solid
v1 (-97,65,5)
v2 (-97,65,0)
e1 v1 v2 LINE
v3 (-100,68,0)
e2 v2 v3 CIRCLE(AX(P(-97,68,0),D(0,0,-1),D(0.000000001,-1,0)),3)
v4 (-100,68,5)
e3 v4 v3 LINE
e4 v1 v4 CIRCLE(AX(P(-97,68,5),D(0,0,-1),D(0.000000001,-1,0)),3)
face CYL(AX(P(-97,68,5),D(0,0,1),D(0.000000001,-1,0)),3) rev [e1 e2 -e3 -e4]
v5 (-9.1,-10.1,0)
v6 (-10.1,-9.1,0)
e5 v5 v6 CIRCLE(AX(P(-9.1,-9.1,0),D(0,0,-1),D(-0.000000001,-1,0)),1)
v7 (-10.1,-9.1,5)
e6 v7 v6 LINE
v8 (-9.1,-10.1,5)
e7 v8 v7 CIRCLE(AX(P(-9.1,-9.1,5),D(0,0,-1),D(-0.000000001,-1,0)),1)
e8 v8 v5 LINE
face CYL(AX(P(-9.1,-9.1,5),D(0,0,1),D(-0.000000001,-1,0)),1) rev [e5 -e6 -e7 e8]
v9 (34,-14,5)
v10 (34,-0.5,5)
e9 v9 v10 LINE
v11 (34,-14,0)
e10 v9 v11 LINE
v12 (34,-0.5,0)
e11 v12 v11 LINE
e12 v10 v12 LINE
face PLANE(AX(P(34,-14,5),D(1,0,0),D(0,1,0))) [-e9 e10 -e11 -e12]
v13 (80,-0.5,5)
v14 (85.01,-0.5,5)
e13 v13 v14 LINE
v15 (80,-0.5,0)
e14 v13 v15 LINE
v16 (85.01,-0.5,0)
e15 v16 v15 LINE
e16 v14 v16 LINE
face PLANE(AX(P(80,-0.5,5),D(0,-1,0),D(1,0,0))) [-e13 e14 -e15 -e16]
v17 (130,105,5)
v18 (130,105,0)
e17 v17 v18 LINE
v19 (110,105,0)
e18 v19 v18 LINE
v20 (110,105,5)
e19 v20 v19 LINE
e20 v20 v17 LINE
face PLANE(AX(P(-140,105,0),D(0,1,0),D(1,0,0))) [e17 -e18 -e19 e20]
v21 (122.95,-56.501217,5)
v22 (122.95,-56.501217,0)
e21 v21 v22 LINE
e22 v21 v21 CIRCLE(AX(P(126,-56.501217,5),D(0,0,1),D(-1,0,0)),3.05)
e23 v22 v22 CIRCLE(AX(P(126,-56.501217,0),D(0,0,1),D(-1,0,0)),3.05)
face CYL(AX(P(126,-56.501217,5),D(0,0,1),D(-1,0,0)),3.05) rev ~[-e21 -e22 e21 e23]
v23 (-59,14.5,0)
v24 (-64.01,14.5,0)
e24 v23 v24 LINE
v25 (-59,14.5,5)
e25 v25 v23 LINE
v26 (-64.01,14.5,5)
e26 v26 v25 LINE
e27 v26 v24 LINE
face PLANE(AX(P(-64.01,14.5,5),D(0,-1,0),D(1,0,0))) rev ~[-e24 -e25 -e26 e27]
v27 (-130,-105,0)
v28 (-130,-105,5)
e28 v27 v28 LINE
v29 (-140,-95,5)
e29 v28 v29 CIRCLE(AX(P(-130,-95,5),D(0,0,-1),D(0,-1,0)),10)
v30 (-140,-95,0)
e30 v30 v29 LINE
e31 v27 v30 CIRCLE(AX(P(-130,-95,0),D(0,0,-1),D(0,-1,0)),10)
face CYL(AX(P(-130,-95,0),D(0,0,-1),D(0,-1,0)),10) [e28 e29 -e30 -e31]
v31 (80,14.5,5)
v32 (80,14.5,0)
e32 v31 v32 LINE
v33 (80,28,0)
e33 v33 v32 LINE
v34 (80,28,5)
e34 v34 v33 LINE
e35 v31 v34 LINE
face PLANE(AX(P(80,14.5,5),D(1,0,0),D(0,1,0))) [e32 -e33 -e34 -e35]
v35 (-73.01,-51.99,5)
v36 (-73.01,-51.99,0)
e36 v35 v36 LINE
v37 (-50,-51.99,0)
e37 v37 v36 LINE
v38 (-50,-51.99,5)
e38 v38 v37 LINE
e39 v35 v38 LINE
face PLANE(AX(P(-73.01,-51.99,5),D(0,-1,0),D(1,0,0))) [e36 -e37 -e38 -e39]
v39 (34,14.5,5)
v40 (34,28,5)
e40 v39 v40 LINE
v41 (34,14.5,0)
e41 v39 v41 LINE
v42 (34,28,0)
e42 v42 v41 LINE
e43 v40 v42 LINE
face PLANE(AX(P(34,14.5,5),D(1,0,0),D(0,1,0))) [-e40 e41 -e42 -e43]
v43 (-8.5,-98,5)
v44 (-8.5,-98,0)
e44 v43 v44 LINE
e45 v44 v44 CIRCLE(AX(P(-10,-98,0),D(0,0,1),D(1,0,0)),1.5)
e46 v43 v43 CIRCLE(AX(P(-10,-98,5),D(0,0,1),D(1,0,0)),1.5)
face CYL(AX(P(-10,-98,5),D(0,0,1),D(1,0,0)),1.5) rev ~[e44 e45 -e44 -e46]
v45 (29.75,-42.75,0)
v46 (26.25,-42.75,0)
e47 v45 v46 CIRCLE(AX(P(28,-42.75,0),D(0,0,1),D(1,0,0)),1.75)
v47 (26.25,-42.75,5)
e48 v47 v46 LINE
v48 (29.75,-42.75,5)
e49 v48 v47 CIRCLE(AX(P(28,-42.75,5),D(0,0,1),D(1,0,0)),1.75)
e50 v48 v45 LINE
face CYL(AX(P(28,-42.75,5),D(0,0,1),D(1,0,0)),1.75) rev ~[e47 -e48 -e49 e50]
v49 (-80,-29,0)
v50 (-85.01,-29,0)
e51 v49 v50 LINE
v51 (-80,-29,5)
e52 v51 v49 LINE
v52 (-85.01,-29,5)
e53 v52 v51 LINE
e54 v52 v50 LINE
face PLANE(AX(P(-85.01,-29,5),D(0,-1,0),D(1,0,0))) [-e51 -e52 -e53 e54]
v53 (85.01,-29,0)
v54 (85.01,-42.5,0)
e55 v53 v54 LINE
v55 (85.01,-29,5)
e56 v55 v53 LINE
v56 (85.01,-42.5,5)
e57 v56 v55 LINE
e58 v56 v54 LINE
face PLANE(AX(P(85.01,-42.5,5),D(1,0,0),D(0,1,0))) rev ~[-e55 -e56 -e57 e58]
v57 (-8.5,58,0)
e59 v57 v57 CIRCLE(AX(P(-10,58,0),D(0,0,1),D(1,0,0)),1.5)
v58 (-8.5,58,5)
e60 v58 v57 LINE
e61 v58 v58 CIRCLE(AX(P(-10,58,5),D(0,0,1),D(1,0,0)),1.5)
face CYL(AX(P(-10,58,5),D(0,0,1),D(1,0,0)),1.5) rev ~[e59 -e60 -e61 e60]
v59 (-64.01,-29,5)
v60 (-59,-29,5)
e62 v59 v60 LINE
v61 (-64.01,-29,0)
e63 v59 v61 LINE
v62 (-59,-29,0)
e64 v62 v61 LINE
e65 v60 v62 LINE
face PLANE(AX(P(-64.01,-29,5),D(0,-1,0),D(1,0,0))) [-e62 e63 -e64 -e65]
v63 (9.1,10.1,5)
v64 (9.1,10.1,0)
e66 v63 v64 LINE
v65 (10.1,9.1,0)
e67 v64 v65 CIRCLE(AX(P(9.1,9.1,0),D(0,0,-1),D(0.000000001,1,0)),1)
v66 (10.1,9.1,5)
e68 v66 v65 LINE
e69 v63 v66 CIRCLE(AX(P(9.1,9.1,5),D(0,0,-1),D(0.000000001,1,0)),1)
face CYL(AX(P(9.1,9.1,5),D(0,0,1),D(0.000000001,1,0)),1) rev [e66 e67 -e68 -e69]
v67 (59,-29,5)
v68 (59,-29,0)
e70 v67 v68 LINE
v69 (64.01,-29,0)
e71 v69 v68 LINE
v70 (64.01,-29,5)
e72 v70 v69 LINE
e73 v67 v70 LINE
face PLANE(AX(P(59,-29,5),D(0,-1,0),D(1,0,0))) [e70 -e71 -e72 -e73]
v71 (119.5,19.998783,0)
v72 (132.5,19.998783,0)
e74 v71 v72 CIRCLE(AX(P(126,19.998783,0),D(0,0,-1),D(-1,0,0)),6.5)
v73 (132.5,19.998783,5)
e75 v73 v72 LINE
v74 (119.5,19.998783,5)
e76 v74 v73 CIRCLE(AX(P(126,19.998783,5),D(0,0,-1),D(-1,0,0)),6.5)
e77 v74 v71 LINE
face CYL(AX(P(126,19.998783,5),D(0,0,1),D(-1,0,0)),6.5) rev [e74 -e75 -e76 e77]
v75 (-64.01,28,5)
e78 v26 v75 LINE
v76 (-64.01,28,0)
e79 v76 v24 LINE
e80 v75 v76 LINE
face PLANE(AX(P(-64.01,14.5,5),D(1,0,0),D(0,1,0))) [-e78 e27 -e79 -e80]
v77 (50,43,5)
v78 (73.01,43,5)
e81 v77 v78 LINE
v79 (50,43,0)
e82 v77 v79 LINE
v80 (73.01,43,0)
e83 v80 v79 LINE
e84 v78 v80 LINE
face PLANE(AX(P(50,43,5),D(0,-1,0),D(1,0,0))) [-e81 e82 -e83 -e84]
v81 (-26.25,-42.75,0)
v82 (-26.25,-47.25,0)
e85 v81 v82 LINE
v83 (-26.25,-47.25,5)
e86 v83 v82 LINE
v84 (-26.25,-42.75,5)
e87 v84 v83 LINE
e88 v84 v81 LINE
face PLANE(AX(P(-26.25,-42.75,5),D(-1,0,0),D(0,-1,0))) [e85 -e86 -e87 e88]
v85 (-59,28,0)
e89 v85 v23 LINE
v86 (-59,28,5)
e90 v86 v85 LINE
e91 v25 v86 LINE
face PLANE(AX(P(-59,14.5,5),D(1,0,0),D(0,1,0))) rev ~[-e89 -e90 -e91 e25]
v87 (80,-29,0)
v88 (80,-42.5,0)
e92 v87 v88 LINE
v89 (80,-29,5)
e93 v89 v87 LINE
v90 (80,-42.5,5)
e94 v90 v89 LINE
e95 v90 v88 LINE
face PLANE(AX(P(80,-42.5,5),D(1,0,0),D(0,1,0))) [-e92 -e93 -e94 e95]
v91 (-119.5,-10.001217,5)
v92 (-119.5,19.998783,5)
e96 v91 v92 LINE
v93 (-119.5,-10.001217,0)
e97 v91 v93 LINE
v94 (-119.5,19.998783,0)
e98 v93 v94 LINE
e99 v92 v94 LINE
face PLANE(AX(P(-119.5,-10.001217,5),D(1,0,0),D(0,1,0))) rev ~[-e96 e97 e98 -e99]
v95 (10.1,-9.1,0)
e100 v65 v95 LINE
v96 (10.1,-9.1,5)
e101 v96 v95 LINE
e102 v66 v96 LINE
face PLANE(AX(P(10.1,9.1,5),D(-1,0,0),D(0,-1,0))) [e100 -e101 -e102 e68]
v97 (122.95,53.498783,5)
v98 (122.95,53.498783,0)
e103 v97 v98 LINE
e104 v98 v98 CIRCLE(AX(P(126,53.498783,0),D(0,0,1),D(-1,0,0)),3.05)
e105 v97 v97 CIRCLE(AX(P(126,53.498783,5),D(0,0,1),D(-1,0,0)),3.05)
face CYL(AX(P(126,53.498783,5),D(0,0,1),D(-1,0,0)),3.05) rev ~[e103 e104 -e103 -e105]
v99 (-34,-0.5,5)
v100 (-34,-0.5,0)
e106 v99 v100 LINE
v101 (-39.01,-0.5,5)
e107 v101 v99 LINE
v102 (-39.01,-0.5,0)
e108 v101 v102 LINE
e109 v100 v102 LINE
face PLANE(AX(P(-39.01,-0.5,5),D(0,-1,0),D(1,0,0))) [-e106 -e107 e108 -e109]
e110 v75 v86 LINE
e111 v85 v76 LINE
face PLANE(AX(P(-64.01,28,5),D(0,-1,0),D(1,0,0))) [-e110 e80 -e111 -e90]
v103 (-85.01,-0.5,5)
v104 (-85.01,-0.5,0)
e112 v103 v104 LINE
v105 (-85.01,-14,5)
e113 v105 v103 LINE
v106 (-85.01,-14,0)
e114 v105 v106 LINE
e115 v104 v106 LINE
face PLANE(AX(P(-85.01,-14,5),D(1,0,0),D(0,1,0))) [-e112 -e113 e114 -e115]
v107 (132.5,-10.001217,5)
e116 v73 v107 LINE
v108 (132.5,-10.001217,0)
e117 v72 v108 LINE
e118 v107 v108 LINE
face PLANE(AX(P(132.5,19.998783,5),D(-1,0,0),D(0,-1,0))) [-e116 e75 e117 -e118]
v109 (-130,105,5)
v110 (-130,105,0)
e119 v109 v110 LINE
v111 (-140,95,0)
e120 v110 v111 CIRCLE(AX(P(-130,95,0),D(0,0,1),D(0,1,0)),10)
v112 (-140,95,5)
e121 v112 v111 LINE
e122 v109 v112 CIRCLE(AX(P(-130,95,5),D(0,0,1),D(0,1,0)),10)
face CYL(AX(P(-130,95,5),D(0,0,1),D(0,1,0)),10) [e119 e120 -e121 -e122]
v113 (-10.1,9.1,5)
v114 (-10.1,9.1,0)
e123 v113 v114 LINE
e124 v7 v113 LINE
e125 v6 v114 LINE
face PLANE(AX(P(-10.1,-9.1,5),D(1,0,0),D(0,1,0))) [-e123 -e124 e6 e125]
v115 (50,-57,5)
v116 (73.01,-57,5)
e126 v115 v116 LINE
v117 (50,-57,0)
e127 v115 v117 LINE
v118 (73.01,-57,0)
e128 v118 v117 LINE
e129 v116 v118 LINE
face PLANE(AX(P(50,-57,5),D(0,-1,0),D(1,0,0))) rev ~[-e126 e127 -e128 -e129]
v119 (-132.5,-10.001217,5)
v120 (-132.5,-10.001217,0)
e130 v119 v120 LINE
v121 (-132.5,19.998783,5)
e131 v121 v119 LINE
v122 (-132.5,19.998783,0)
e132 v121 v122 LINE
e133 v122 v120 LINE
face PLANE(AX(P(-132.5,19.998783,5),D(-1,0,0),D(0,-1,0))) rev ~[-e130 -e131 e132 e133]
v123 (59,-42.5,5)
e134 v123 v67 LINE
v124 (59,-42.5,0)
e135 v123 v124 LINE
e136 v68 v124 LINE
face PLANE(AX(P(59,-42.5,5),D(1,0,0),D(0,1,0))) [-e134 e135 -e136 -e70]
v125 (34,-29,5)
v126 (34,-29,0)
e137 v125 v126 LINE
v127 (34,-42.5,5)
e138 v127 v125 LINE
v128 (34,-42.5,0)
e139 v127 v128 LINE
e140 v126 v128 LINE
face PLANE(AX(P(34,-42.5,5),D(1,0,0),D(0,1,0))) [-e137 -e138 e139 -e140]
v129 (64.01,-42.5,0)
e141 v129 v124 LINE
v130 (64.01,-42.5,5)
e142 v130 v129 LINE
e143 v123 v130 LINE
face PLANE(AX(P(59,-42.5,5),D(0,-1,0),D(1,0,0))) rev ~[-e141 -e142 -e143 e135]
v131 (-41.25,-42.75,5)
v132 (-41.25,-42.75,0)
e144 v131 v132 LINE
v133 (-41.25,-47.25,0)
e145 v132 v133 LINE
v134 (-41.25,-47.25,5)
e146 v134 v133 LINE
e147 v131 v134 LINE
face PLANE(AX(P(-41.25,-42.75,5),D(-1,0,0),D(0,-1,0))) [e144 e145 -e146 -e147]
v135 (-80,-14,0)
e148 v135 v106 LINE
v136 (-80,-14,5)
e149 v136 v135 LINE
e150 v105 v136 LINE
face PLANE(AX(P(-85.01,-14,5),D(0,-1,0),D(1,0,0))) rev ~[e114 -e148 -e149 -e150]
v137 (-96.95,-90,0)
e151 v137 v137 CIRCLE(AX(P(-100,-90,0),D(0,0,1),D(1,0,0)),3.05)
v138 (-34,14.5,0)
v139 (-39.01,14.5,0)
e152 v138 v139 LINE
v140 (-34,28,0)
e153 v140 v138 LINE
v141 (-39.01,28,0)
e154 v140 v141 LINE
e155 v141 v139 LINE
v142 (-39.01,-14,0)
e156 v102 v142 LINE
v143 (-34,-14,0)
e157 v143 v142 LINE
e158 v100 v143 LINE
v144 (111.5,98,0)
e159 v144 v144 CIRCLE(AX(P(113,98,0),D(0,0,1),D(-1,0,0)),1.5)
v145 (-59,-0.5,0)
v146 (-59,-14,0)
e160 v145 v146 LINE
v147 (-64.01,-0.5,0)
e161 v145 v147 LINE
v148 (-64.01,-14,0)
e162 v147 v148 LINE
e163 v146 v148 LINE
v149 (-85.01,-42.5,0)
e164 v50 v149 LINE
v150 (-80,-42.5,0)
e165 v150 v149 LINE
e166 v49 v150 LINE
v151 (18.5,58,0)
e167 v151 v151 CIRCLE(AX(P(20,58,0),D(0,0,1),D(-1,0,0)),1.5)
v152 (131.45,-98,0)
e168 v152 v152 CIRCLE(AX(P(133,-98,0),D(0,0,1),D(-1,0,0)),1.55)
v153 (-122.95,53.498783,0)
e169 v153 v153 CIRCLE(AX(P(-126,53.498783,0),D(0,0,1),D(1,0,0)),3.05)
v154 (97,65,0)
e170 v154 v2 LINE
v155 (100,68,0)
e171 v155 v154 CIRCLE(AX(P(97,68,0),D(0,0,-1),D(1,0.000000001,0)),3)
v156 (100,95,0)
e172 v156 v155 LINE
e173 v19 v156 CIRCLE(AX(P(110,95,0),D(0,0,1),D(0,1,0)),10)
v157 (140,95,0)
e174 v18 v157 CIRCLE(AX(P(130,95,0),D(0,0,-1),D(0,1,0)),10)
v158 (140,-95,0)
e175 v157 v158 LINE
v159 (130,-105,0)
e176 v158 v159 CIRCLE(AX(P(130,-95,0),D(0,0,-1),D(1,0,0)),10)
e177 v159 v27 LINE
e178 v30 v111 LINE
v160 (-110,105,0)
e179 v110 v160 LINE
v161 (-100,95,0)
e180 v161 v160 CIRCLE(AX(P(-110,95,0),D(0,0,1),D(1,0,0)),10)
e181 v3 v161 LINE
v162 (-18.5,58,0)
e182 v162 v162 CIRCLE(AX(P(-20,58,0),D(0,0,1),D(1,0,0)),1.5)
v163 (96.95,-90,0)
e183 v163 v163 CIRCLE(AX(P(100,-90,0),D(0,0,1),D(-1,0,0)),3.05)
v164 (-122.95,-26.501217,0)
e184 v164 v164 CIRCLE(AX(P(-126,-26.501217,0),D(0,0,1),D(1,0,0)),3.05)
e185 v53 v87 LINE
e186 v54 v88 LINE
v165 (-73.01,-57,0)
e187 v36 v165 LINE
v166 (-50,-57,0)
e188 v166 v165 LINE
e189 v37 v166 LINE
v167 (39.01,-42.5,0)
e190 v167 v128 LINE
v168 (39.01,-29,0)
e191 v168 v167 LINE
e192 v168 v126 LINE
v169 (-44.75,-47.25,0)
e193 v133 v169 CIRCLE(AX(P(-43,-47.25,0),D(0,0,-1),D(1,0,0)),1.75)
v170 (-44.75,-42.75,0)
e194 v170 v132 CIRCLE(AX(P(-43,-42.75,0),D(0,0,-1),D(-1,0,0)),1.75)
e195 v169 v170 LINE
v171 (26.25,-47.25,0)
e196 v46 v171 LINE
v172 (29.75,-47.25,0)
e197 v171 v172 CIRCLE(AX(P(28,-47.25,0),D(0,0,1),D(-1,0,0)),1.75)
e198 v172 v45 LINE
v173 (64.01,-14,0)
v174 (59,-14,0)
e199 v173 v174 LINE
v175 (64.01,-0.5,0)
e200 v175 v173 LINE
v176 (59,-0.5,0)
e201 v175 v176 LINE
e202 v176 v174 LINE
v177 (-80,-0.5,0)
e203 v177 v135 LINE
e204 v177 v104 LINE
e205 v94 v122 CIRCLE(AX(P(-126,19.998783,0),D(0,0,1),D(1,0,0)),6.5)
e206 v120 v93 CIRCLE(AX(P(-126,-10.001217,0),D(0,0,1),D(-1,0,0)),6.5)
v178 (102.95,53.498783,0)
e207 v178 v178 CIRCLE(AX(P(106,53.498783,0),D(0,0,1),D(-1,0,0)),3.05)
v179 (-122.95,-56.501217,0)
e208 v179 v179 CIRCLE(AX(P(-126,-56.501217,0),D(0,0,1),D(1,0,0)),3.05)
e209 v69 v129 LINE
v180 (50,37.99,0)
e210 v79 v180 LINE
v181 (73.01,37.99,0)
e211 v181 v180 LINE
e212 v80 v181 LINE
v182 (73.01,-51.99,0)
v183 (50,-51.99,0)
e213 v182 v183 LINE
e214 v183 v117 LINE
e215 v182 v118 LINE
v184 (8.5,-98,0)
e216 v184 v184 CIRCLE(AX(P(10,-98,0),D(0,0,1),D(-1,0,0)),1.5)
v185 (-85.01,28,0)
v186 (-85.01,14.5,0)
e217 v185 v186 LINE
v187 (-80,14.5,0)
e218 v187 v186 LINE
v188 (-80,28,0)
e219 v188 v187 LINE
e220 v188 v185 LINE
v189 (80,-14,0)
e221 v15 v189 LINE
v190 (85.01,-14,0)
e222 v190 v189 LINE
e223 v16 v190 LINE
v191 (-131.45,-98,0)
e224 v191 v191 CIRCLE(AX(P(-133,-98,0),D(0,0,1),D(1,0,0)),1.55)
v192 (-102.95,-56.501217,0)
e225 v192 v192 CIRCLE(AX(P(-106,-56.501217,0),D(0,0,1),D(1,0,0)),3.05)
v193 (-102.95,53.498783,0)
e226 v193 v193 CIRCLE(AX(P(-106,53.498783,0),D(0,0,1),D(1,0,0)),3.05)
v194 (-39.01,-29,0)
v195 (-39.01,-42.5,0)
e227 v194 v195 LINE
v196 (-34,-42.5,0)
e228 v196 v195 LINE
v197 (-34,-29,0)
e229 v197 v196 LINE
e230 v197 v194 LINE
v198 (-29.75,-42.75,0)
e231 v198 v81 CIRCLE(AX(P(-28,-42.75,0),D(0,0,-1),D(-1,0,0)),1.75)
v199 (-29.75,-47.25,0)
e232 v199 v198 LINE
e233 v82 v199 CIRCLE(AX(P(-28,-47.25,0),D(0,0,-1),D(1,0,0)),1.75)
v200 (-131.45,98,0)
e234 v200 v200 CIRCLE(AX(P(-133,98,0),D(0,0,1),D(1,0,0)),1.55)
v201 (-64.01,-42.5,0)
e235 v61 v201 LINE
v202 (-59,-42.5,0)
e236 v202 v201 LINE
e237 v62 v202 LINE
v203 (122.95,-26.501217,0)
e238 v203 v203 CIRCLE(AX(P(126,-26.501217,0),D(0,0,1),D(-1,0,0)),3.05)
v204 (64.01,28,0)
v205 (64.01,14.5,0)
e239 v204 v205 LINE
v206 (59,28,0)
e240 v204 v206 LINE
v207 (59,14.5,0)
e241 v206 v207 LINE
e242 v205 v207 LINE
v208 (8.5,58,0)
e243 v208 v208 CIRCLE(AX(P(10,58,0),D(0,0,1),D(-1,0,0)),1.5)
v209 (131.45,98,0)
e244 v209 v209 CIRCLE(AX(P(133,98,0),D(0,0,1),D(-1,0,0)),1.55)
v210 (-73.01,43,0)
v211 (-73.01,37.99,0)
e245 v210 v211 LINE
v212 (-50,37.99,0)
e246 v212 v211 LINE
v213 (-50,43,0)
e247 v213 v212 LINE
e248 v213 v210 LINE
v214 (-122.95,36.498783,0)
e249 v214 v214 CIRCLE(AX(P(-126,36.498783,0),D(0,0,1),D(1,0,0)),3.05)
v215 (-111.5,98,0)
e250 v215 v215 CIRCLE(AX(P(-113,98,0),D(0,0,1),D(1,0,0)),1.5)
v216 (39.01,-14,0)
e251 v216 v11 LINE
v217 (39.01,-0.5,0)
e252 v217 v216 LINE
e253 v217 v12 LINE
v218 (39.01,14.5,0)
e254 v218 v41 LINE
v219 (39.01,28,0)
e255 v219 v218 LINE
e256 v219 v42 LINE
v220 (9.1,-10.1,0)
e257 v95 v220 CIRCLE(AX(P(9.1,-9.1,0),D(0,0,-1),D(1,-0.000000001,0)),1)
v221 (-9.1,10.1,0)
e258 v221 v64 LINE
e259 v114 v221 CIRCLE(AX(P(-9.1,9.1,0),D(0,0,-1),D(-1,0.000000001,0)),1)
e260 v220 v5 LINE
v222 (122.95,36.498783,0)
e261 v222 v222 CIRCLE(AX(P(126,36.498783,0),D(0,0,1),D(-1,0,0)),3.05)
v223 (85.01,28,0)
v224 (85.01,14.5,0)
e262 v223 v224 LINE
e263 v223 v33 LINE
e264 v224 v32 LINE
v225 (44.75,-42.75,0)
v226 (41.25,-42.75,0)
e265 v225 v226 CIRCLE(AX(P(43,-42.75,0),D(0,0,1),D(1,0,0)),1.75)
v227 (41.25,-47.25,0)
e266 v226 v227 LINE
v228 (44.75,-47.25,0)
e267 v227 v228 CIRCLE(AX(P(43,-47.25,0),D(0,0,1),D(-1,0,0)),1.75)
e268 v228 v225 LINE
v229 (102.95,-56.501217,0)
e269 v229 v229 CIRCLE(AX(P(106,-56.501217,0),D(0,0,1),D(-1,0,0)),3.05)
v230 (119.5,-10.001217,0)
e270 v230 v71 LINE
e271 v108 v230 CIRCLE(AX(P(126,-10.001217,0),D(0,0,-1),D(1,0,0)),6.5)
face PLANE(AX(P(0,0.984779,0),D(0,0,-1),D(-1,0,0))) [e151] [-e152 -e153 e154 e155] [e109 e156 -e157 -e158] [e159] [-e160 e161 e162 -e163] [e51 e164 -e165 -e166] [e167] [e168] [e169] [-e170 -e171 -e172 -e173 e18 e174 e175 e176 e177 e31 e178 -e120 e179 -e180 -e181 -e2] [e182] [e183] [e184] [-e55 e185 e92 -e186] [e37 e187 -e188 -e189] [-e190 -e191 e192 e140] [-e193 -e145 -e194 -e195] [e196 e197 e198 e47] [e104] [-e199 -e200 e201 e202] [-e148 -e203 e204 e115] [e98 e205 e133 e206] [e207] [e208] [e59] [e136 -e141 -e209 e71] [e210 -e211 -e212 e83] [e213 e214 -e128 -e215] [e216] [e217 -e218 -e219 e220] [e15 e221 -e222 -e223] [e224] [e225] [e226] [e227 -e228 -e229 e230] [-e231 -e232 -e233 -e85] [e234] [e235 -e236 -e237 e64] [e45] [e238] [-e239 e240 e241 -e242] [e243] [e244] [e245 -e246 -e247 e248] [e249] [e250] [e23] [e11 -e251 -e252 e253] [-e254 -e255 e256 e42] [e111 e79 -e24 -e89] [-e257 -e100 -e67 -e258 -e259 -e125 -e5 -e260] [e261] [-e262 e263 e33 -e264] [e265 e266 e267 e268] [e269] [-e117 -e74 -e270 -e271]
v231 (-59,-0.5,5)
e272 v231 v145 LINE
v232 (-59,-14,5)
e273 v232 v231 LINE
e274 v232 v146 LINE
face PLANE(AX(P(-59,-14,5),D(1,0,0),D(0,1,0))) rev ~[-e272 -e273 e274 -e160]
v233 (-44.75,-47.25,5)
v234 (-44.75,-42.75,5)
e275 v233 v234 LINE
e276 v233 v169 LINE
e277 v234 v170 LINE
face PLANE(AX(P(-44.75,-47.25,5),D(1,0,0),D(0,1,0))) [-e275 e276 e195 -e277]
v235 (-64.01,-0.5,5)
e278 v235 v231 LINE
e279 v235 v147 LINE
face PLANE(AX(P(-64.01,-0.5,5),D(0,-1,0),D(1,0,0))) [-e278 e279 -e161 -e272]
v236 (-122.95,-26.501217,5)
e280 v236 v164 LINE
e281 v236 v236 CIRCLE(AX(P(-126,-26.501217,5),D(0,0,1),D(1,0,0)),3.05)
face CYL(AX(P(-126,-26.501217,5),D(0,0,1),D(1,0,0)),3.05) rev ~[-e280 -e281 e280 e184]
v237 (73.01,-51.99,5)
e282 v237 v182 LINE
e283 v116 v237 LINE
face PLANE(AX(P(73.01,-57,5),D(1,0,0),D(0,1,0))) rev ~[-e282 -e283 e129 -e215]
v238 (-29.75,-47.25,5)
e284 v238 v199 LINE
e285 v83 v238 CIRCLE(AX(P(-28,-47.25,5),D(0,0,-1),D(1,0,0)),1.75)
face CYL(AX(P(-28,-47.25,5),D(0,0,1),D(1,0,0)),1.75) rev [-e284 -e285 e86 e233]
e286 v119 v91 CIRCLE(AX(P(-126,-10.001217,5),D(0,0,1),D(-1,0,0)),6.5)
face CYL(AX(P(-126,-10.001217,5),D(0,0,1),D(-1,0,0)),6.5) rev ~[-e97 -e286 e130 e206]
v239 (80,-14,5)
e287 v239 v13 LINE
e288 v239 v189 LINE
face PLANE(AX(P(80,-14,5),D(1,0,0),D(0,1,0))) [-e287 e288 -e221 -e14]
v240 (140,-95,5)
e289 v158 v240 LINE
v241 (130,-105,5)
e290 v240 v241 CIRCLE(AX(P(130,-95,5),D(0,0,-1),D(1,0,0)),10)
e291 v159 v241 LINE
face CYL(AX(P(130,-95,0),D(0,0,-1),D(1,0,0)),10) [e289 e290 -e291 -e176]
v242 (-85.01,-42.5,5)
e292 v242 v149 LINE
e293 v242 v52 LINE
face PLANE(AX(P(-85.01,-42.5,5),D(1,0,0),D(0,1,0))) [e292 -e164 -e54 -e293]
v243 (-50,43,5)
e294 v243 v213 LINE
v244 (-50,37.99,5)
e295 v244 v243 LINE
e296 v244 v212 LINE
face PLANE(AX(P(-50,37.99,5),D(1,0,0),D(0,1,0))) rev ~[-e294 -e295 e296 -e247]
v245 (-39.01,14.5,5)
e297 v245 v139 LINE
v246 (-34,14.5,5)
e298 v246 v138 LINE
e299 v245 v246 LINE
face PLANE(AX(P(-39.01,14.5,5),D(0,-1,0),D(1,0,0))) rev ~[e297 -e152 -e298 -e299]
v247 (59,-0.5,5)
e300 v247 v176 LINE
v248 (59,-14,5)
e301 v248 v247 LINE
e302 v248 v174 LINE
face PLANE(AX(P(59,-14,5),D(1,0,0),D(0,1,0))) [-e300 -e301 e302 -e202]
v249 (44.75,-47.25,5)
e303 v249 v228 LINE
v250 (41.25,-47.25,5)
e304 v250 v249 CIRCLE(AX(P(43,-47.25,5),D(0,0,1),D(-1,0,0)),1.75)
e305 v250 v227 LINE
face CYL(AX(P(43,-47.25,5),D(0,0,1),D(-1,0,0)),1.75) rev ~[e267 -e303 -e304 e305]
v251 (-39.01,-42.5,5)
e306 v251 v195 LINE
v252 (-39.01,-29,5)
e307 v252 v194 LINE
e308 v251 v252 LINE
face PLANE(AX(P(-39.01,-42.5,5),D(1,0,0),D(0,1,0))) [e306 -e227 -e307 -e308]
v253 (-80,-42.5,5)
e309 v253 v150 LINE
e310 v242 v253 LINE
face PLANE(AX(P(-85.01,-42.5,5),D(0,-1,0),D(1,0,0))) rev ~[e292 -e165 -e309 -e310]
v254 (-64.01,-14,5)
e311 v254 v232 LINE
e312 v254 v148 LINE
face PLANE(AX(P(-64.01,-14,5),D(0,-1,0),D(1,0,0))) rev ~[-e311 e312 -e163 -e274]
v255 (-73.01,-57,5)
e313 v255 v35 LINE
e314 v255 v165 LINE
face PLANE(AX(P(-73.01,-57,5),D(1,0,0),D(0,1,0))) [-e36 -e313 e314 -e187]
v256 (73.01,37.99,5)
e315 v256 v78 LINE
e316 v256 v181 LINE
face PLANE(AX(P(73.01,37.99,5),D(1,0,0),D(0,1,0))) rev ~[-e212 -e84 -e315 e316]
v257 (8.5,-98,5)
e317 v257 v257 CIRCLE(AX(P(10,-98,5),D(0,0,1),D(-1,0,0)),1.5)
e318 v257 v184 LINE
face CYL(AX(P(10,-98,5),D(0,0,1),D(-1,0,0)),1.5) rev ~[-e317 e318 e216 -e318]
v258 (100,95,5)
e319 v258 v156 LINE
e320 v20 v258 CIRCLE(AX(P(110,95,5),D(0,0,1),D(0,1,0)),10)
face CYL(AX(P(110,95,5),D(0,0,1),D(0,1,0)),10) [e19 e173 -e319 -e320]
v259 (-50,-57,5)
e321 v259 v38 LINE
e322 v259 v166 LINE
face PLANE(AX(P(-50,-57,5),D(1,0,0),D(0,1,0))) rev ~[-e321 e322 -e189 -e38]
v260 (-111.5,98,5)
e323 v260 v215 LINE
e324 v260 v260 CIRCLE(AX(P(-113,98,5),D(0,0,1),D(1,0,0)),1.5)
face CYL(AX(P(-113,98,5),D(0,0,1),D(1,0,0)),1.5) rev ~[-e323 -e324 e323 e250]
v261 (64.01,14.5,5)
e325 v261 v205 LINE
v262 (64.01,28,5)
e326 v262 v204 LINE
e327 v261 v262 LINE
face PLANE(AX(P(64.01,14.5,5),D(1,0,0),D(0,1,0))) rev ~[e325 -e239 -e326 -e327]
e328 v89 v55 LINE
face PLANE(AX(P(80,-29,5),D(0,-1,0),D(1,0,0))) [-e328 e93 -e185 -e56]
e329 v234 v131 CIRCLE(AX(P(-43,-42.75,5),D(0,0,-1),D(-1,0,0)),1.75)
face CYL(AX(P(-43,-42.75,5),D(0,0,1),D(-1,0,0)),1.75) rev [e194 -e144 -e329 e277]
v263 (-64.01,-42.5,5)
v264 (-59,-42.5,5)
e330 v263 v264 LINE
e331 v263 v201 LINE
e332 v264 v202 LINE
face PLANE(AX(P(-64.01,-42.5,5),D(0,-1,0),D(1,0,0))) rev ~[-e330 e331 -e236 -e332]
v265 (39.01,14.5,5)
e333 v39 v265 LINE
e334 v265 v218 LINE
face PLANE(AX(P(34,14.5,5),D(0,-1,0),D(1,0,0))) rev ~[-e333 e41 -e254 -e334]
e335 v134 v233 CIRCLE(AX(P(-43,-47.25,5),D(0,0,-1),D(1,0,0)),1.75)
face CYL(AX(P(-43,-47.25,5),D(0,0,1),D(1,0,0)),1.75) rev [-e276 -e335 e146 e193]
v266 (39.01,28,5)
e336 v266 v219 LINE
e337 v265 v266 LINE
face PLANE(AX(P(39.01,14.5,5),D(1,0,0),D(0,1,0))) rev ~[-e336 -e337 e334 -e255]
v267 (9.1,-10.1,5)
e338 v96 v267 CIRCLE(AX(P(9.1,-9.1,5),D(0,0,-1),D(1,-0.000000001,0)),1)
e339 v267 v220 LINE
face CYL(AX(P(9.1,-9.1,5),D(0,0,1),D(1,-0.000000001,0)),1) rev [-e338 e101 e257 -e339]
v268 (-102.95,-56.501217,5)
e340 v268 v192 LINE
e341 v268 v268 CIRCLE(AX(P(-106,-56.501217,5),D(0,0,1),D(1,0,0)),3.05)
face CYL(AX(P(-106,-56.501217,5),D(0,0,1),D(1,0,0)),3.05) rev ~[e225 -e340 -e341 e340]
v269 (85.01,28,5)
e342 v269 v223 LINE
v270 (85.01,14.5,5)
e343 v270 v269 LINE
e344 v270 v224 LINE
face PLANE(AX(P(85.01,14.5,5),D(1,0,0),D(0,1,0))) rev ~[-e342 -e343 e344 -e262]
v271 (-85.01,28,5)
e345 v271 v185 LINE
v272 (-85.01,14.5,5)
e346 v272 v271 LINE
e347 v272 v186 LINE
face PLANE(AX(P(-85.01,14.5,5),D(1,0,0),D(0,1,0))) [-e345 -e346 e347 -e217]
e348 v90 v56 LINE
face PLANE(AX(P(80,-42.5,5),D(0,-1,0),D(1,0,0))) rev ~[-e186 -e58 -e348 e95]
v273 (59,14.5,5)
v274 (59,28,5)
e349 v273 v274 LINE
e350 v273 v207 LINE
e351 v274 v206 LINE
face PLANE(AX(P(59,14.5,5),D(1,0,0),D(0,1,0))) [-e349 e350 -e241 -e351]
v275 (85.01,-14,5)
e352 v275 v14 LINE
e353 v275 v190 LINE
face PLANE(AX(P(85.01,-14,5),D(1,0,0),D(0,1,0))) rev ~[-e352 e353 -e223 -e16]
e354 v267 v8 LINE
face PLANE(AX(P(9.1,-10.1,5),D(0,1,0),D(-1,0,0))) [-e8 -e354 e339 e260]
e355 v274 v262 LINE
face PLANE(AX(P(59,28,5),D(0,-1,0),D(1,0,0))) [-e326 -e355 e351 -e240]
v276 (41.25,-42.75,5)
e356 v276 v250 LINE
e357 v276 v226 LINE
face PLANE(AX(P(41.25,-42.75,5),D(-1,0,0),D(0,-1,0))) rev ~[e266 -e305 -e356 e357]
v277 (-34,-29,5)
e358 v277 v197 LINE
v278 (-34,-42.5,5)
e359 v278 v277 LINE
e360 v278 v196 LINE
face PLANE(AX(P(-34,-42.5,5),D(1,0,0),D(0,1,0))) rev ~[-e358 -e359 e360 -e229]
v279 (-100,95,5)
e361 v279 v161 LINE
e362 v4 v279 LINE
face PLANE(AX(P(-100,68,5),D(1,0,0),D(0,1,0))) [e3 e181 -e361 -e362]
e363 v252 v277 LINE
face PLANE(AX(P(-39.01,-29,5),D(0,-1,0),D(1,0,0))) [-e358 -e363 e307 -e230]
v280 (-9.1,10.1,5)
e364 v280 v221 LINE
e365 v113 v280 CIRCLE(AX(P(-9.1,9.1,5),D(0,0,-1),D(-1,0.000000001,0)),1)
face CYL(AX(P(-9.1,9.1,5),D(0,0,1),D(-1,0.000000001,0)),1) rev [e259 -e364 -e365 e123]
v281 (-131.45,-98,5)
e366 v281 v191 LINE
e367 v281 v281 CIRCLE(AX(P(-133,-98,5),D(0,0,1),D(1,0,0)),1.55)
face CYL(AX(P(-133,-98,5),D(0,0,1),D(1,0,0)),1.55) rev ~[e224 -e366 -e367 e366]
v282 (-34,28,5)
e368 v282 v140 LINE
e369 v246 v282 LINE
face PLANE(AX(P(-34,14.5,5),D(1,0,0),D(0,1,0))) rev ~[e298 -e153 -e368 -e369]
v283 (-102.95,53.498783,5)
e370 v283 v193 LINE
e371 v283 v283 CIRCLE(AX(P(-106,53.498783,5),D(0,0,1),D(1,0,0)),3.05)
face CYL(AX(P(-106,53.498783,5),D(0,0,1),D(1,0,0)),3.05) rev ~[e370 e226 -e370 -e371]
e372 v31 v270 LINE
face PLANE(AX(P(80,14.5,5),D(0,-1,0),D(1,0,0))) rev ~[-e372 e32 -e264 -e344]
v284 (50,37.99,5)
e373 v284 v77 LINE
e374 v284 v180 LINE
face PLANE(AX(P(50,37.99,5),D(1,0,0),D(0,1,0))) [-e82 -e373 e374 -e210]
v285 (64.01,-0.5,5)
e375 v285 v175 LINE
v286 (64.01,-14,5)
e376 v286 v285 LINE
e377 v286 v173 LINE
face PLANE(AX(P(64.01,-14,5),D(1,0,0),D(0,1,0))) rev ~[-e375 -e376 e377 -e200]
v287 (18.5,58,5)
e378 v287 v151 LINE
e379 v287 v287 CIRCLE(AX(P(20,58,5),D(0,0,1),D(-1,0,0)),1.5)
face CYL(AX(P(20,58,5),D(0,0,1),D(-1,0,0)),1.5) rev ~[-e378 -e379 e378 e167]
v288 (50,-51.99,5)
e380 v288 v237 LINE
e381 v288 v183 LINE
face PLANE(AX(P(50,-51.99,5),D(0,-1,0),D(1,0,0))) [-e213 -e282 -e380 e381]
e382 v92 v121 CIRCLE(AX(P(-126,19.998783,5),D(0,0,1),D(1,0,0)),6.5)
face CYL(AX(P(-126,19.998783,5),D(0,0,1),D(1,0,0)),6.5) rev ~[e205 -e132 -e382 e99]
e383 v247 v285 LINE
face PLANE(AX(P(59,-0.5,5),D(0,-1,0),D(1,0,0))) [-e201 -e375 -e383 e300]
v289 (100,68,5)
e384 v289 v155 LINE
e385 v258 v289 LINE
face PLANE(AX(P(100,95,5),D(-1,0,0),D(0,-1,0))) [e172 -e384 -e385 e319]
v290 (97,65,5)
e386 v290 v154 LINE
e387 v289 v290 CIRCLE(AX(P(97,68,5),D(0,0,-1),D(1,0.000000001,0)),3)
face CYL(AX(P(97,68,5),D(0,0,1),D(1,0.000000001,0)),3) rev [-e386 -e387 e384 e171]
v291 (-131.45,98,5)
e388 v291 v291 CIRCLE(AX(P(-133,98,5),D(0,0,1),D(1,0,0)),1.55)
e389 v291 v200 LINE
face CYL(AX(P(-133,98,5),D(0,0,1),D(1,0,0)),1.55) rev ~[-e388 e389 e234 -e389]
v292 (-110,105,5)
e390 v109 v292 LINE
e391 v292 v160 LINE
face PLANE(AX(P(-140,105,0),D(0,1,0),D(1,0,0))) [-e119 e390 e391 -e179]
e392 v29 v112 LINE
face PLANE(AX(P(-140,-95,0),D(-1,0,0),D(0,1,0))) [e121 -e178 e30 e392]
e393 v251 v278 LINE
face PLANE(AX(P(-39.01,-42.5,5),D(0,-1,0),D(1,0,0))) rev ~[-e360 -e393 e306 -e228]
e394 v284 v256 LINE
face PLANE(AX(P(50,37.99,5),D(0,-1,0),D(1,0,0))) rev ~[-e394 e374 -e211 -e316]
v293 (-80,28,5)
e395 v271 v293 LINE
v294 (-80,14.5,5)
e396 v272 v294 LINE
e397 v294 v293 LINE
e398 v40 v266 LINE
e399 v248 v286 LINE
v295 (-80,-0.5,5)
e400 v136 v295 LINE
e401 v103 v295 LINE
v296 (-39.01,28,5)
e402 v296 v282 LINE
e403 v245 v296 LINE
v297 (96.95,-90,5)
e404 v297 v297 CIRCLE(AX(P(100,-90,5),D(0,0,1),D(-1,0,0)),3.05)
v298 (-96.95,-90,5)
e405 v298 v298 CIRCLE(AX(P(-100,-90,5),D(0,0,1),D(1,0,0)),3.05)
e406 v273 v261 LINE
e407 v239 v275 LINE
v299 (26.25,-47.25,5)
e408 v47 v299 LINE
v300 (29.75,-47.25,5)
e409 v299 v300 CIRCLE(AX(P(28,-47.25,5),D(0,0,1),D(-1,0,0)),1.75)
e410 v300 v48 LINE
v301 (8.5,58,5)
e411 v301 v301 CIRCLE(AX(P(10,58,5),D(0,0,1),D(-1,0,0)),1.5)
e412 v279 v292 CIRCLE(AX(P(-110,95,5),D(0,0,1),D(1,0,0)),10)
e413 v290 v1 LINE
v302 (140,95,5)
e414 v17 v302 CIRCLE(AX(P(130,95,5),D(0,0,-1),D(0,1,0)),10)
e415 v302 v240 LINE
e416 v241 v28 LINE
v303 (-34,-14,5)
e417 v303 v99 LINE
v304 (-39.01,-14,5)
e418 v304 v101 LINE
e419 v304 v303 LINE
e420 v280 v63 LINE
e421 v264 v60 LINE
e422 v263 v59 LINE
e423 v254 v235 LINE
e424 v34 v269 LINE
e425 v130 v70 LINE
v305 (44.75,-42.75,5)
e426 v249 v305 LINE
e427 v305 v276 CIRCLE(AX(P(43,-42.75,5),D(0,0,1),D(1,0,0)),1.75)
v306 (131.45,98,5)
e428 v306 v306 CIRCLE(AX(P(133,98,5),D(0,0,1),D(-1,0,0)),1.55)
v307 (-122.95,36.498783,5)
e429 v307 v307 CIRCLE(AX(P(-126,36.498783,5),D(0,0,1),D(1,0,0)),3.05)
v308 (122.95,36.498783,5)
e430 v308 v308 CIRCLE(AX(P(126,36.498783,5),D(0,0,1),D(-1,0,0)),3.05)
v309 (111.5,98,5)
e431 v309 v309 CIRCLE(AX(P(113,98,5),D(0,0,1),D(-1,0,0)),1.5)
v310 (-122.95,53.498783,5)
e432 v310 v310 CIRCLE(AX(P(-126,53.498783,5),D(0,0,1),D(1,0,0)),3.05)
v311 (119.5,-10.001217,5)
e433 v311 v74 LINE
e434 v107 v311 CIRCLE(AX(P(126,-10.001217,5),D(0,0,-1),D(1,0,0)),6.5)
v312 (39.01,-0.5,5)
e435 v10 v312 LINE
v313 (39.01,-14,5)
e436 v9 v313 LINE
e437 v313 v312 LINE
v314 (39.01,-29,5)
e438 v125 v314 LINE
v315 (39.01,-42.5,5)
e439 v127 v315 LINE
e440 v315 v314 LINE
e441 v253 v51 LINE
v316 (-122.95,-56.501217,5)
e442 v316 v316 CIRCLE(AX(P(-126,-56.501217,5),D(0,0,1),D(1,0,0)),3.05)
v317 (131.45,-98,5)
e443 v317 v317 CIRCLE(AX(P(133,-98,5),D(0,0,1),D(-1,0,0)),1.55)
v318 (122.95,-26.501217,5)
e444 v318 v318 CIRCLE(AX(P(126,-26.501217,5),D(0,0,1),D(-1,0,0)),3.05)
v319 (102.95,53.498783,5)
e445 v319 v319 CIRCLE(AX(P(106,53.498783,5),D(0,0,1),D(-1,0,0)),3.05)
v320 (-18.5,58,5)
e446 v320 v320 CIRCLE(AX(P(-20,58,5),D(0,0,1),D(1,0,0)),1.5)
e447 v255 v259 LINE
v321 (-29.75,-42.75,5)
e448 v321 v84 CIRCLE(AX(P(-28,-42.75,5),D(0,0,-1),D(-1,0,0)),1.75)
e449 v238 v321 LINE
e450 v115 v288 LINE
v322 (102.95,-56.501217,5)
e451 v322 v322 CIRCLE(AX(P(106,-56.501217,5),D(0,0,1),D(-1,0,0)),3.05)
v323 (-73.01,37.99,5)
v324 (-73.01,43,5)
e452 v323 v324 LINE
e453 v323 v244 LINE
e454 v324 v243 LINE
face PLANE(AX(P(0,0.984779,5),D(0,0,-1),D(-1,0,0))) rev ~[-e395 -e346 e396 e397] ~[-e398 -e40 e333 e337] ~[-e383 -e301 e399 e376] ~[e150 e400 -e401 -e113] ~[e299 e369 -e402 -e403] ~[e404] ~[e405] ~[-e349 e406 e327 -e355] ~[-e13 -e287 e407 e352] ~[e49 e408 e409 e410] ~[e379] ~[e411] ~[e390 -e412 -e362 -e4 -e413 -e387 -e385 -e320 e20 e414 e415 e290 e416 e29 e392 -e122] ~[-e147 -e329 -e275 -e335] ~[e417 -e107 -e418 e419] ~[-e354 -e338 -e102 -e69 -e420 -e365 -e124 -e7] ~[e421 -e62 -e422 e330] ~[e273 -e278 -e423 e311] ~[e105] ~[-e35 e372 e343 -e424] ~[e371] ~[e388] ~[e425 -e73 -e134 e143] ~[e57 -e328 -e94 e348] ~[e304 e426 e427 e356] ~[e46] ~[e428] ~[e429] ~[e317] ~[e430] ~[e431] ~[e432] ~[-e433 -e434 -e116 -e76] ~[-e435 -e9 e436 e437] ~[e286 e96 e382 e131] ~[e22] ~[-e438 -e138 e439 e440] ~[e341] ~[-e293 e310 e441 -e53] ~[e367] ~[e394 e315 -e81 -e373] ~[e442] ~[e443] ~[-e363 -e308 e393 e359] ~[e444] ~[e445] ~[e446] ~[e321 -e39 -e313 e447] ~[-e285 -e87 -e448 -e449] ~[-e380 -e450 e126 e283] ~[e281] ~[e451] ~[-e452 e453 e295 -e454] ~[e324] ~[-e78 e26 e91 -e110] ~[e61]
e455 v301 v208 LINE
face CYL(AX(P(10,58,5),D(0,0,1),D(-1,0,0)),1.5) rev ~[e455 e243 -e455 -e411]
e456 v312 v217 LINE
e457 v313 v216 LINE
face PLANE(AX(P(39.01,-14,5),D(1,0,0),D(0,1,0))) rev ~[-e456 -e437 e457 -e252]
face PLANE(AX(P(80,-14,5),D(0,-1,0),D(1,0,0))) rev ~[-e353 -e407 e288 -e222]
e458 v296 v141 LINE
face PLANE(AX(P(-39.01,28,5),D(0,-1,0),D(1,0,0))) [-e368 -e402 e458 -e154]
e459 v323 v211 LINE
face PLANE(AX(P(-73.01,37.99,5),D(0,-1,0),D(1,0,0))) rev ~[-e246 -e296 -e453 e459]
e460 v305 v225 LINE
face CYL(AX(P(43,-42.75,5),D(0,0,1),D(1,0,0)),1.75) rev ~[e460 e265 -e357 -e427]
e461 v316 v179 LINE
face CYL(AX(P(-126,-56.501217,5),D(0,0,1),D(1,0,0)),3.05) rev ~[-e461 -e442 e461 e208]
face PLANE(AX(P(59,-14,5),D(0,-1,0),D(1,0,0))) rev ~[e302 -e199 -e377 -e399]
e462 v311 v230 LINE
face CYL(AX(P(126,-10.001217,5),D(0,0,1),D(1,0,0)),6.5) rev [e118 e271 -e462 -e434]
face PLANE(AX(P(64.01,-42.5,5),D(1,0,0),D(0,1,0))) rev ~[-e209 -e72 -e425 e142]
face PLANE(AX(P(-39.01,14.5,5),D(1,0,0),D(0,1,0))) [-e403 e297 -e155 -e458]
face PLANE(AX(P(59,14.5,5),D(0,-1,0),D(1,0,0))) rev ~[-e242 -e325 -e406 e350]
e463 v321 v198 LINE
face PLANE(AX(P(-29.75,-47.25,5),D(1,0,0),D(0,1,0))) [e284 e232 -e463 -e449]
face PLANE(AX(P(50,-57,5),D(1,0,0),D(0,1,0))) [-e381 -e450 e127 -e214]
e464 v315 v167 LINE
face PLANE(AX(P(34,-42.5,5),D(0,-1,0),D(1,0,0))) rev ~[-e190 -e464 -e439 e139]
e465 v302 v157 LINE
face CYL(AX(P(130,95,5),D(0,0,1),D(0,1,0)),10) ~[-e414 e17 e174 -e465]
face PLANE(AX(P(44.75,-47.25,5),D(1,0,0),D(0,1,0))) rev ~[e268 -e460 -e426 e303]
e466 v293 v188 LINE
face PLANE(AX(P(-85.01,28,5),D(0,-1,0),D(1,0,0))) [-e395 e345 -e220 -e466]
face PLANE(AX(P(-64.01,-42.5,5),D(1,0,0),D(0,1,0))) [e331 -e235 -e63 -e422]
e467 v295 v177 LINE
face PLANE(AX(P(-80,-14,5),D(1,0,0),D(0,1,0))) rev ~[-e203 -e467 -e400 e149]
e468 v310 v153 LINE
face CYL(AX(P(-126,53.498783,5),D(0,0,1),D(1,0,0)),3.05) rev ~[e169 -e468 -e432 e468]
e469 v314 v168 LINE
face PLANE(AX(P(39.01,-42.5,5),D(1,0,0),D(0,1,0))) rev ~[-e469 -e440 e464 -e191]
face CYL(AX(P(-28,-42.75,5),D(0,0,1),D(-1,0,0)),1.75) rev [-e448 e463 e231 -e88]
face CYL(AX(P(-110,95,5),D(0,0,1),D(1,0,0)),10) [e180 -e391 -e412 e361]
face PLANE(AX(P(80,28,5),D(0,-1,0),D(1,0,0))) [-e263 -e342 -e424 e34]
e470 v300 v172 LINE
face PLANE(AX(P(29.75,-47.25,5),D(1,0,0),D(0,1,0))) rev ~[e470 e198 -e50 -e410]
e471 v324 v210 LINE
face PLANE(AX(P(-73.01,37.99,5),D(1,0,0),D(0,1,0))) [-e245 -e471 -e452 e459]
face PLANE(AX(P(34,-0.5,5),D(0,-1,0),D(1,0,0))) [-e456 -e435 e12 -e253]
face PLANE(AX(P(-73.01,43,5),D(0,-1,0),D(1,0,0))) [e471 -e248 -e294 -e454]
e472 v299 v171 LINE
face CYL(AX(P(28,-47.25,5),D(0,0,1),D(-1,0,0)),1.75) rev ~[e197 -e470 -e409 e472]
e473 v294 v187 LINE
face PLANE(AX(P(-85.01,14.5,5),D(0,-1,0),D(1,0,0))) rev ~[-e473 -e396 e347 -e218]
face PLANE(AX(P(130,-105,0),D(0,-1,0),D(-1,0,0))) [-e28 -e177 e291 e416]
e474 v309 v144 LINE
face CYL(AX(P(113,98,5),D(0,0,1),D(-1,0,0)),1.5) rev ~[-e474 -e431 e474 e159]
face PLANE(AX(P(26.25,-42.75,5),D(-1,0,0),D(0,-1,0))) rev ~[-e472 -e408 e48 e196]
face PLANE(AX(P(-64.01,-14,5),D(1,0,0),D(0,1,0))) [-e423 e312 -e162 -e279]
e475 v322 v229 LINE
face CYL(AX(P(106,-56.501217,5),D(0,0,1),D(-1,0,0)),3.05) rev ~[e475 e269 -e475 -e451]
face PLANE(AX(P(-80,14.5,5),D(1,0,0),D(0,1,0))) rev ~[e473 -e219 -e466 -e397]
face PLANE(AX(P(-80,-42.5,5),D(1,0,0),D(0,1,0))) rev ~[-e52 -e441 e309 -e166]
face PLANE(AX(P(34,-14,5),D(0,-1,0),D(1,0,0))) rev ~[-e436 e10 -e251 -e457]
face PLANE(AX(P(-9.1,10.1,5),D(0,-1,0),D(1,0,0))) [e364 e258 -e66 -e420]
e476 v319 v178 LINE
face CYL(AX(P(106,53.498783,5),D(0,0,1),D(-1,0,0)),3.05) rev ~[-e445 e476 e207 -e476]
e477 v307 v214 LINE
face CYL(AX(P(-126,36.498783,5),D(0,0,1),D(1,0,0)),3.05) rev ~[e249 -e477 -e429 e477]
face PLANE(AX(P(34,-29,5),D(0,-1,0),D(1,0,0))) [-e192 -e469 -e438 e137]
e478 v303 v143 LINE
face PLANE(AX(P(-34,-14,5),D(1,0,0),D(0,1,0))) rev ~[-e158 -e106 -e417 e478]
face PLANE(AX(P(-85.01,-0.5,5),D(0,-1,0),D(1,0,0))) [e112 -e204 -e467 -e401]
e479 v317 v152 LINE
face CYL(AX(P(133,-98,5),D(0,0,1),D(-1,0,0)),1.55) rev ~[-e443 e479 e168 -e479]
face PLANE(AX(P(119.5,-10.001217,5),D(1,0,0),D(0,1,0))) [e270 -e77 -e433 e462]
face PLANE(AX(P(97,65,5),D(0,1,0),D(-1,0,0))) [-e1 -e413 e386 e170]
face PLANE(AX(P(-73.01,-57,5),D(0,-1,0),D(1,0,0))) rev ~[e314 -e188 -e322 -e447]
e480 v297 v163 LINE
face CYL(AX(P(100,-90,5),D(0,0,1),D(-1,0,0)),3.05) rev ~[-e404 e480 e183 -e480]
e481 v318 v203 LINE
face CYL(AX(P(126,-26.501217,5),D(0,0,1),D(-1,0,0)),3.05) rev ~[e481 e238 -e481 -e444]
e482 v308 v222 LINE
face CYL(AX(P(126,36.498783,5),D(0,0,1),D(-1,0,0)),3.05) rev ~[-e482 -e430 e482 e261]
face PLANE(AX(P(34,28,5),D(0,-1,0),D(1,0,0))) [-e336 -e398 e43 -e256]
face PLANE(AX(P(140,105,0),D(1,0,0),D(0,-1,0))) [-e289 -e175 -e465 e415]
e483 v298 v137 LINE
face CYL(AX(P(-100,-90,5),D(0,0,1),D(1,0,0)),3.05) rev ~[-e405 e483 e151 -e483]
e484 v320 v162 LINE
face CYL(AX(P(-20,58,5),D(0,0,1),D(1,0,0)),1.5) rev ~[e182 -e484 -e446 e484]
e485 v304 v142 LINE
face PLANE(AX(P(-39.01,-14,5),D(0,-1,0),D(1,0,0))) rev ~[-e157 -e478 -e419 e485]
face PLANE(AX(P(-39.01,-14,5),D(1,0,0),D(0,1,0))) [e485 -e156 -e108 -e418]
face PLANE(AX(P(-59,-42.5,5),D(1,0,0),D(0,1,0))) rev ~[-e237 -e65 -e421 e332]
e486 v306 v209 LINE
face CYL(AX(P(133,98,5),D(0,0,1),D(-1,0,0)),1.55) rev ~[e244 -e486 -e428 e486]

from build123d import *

# Parameters (mm, degrees)
BOSS_EXTRU_1_DEPTH       = 5
ESQUISSE2_W              = 23.01
ESQUISSE2_H              = 5.01
ESQUISSE2_W_2            = 5.01
ESQUISSE2_H_2            = 13.5
ENL_V_MAT_EXTRU_7_DEPTH  = 10
ESQUISSE3_R              = 3.05
ENL_V_MAT_EXTRU_8_DEPTH  = 5
ENL_V_MAT_EXTRU_12_DEPTH = 5
ESQUISSE5_R              = 3.05
ESQUISSE5_R_2            = 1.55
ESQUISSE5_R_3            = 1.5
ENL_V_MAT_EXTRU_13_DEPTH = 5
ENL_V_MAT_EXTRU_14_DEPTH = 5


with BuildPart() as part:
    # Esquisse1 → Boss.-Extru.1 (new body)
    with BuildSketch(Plane.XY):
        with BuildLine():
            Line((130, -105), (-130, -105))
            ThreePointArc((-130, -105), (-137.071067812, -102.071067812), (-140, -95))
            Line((-140, -95), (-140, 105))
            Line((-140, 105), (140, 105))
            Line((140, 105), (140, -95))
            ThreePointArc((140, -95), (137.071067812, -102.071067812), (130, -105))
        make_face()
    extrude(amount=BOSS_EXTRU_1_DEPTH)

    # Esquisse2 → Enlèv. mat.-Extru.7 (cut)
    with BuildSketch(Plane.XY.offset(5)):
        with Locations((-61.505, 40.495)):
            Rectangle(ESQUISSE2_W, ESQUISSE2_H)
        with Locations((-61.505, 21.25)):
            Rectangle(ESQUISSE2_W_2, ESQUISSE2_H_2)
        with Locations((-82.505, 21.25)):
            Rectangle(ESQUISSE2_W_2, ESQUISSE2_H_2)
        with Locations((-82.505, -7.25)):
            Rectangle(ESQUISSE2_W_2, ESQUISSE2_H_2)
        with Locations((-61.505, -7.25)):
            Rectangle(ESQUISSE2_W_2, ESQUISSE2_H_2)
        with Locations((-61.505, -35.75)):
            Rectangle(ESQUISSE2_W_2, ESQUISSE2_H_2)
        with Locations((-82.505, -35.75)):
            Rectangle(ESQUISSE2_W_2, ESQUISSE2_H_2)
        with Locations((-61.505, -54.495)):
            Rectangle(ESQUISSE2_W, ESQUISSE2_H)
        with Locations((-36.505, -35.75)):
            Rectangle(ESQUISSE2_W_2, ESQUISSE2_H_2)
        with Locations((-36.505, 21.25)):
            Rectangle(ESQUISSE2_W_2, ESQUISSE2_H_2)
        with Locations((-36.505, -7.25)):
            Rectangle(ESQUISSE2_W_2, ESQUISSE2_H_2)
        with Locations((36.505, 21.25)):
            Rectangle(ESQUISSE2_W_2, ESQUISSE2_H_2)
        with Locations((61.505, 40.495)):
            Rectangle(ESQUISSE2_W, ESQUISSE2_H)
        with Locations((61.505, 21.25)):
            Rectangle(ESQUISSE2_W_2, ESQUISSE2_H_2)
        with Locations((82.505, 21.25)):
            Rectangle(ESQUISSE2_W_2, ESQUISSE2_H_2)
        with Locations((82.505, -35.75)):
            Rectangle(ESQUISSE2_W_2, ESQUISSE2_H_2)
        with Locations((82.505, -7.25)):
            Rectangle(ESQUISSE2_W_2, ESQUISSE2_H_2)
        with Locations((61.505, -7.25)):
            Rectangle(ESQUISSE2_W_2, ESQUISSE2_H_2)
        with Locations((61.505, -35.75)):
            Rectangle(ESQUISSE2_W_2, ESQUISSE2_H_2)
        with Locations((61.505, -54.495)):
            Rectangle(ESQUISSE2_W, ESQUISSE2_H)
        with Locations((36.505, -35.75)):
            Rectangle(ESQUISSE2_W_2, ESQUISSE2_H_2)
        with Locations((36.505, -7.25)):
            Rectangle(ESQUISSE2_W_2, ESQUISSE2_H_2)
    extrude(amount=-ENL_V_MAT_EXTRU_7_DEPTH, mode=Mode.SUBTRACT)

    # Esquisse3 → Enlèv. mat.-Extru.8 (cut)
    with BuildSketch(Plane.XY.offset(5)):
        with Locations((-126, 36.4987829)):
            Circle(ESQUISSE3_R)
        with Locations((-126, -26.5012171)):
            Circle(ESQUISSE3_R)
        with Locations((-126, 53.4987829)):
            Circle(ESQUISSE3_R)
        with Locations((-126, -56.5012171)):
            Circle(ESQUISSE3_R)
        with Locations((-106, 53.4987829)):
            Circle(ESQUISSE3_R)
        with Locations((-106, -56.5012171)):
            Circle(ESQUISSE3_R)
        with Locations((106, -56.5012171)):
            Circle(ESQUISSE3_R)
        with Locations((106, 53.4987829)):
            Circle(ESQUISSE3_R)
        with Locations((126, -56.5012171)):
            Circle(ESQUISSE3_R)
        with Locations((126, 53.4987829)):
            Circle(ESQUISSE3_R)
        with Locations((126, -26.5012171)):
            Circle(ESQUISSE3_R)
        with Locations((126, 36.4987829)):
            Circle(ESQUISSE3_R)
    extrude(amount=-ENL_V_MAT_EXTRU_8_DEPTH, mode=Mode.SUBTRACT)

    # Esquisse4 → Enlèv. mat.-Extru.12 (cut)
    with BuildSketch(Plane.XY.offset(5)):
        with BuildLine():
            Line((-132.5, 19.9987829), (-132.5, -10.0012171))
            ThreePointArc((-132.5, -10.0012171), (-126, -16.5012171), (-119.5, -10.0012171))
            Line((-119.5, -10.0012171), (-119.5, 19.9987829))
            ThreePointArc((-119.5, 19.9987829), (-126, 26.4987829), (-132.5, 19.9987829))
        make_face()
        with BuildLine():
            Line((140, 95), (140, 105))
            Line((140, 105), (130, 105))
            ThreePointArc((130, 105), (137.071067812, 102.071067812), (140, 95))
        make_face()
        with BuildLine():
            ThreePointArc((-140, 95), (-137.071067812, 102.071067812), (-130, 105))
            Line((-130, 105), (-140, 105))
            Line((-140, 105), (-140, 95))
        make_face()
        with BuildLine():
            ThreePointArc((100, 95), (102.928932188, 102.071067812), (110, 105))
            Line((110, 105), (-110, 105))
            ThreePointArc((-110, 105), (-102.928932188, 102.071067812), (-100, 95))
            Line((-100, 95), (-100, 68))
            ThreePointArc((-100, 68), (-99.121320344, 65.878679656), (-97, 65))
            Line((-97, 65), (97, 65))
            ThreePointArc((97, 65), (99.121320344, 65.878679656), (100, 68))
            Line((100, 68), (100, 95))
        make_face()
        with BuildLine():
            ThreePointArc((119.5, -10.0012171), (126, -16.5012171), (132.5, -10.0012171))
            Line((132.5, -10.0012171), (132.5, 19.9987829))
            ThreePointArc((132.5, 19.9987829), (126, 26.4987829), (119.5, 19.9987829))
            Line((119.5, 19.9987829), (119.5, -10.0012171))
        make_face()
    extrude(amount=-ENL_V_MAT_EXTRU_12_DEPTH, mode=Mode.SUBTRACT)

    # Esquisse5 → Enlèv. mat.-Extru.13 (cut)
    with BuildSketch(Plane.XY.offset(5)):
        with Locations((-100, -90)):
            Circle(ESQUISSE5_R)
        with Locations((-133, -98)):
            Circle(ESQUISSE5_R_2)
        with Locations((-133, 98)):
            Circle(ESQUISSE5_R_2)
        with Locations((133, -98)):
            Circle(ESQUISSE5_R_2)
        with Locations((100, -90)):
            Circle(ESQUISSE5_R)
        with Locations((133, 98)):
            Circle(ESQUISSE5_R_2)
        with Locations((-113, 98)):
            Circle(ESQUISSE5_R_3)
        with Locations((113, 98)):
            Circle(ESQUISSE5_R_3)
        with Locations((-10, -98)):
            Circle(ESQUISSE5_R_3)
        with Locations((10, -98)):
            Circle(ESQUISSE5_R_3)
        with Locations((-20, 58)):
            Circle(ESQUISSE5_R_3)
        with Locations((-10, 58)):
            Circle(ESQUISSE5_R_3)
        with Locations((10, 58)):
            Circle(ESQUISSE5_R_3)
        with Locations((20, 58)):
            Circle(ESQUISSE5_R_3)
        with BuildLine():
            Line((-9.1, 10.1), (9.1, 10.1))
            ThreePointArc((9.1, 10.1), (9.807106781, 9.807106781), (10.1, 9.1))
            Line((10.1, 9.1), (10.1, -9.1))
            ThreePointArc((10.1, -9.1), (9.807106781, -9.807106781), (9.1, -10.1))
            Line((9.1, -10.1), (-9.1, -10.1))
            ThreePointArc((-9.1, -10.1), (-9.807106781, -9.807106781), (-10.1, -9.1))
            Line((-10.1, -9.1), (-10.1, 9.1))
            ThreePointArc((-10.1, 9.1), (-9.807106781, 9.807106781), (-9.1, 10.1))
        make_face()
    extrude(amount=-ENL_V_MAT_EXTRU_13_DEPTH, mode=Mode.SUBTRACT)

    # Esquisse6 → Enlèv. mat.-Extru.14 (cut)
    with BuildSketch(Plane.XY.offset(5)):
        with BuildLine():
            Line((-41.25, -42.75), (-41.25, -47.25))
            ThreePointArc((-41.25, -47.25), (-43, -49), (-44.75, -47.25))
            Line((-44.75, -47.25), (-44.75, -42.75))
            ThreePointArc((-44.75, -42.75), (-43, -41), (-41.25, -42.75))
        make_face()
        with BuildLine():
            Line((-26.25, -42.75), (-26.25, -47.25))
            ThreePointArc((-26.25, -47.25), (-28, -49), (-29.75, -47.25))
            Line((-29.75, -47.25), (-29.75, -42.75))
            ThreePointArc((-29.75, -42.75), (-28, -41), (-26.25, -42.75))
        make_face()
        with BuildLine():
            Line((26.25, -42.75), (26.25, -47.25))
            ThreePointArc((26.25, -47.25), (28, -49), (29.75, -47.25))
            Line((29.75, -47.25), (29.75, -42.75))
            ThreePointArc((29.75, -42.75), (28, -41), (26.25, -42.75))
        make_face()
        with BuildLine():
            Line((41.25, -42.75), (41.25, -47.25))
            ThreePointArc((41.25, -47.25), (43, -49), (44.75, -47.25))
            Line((44.75, -47.25), (44.75, -42.75))
            ThreePointArc((44.75, -42.75), (43, -41), (41.25, -42.75))
        make_face()
    extrude(amount=-ENL_V_MAT_EXTRU_14_DEPTH, mode=Mode.SUBTRACT)


solid = part.part
